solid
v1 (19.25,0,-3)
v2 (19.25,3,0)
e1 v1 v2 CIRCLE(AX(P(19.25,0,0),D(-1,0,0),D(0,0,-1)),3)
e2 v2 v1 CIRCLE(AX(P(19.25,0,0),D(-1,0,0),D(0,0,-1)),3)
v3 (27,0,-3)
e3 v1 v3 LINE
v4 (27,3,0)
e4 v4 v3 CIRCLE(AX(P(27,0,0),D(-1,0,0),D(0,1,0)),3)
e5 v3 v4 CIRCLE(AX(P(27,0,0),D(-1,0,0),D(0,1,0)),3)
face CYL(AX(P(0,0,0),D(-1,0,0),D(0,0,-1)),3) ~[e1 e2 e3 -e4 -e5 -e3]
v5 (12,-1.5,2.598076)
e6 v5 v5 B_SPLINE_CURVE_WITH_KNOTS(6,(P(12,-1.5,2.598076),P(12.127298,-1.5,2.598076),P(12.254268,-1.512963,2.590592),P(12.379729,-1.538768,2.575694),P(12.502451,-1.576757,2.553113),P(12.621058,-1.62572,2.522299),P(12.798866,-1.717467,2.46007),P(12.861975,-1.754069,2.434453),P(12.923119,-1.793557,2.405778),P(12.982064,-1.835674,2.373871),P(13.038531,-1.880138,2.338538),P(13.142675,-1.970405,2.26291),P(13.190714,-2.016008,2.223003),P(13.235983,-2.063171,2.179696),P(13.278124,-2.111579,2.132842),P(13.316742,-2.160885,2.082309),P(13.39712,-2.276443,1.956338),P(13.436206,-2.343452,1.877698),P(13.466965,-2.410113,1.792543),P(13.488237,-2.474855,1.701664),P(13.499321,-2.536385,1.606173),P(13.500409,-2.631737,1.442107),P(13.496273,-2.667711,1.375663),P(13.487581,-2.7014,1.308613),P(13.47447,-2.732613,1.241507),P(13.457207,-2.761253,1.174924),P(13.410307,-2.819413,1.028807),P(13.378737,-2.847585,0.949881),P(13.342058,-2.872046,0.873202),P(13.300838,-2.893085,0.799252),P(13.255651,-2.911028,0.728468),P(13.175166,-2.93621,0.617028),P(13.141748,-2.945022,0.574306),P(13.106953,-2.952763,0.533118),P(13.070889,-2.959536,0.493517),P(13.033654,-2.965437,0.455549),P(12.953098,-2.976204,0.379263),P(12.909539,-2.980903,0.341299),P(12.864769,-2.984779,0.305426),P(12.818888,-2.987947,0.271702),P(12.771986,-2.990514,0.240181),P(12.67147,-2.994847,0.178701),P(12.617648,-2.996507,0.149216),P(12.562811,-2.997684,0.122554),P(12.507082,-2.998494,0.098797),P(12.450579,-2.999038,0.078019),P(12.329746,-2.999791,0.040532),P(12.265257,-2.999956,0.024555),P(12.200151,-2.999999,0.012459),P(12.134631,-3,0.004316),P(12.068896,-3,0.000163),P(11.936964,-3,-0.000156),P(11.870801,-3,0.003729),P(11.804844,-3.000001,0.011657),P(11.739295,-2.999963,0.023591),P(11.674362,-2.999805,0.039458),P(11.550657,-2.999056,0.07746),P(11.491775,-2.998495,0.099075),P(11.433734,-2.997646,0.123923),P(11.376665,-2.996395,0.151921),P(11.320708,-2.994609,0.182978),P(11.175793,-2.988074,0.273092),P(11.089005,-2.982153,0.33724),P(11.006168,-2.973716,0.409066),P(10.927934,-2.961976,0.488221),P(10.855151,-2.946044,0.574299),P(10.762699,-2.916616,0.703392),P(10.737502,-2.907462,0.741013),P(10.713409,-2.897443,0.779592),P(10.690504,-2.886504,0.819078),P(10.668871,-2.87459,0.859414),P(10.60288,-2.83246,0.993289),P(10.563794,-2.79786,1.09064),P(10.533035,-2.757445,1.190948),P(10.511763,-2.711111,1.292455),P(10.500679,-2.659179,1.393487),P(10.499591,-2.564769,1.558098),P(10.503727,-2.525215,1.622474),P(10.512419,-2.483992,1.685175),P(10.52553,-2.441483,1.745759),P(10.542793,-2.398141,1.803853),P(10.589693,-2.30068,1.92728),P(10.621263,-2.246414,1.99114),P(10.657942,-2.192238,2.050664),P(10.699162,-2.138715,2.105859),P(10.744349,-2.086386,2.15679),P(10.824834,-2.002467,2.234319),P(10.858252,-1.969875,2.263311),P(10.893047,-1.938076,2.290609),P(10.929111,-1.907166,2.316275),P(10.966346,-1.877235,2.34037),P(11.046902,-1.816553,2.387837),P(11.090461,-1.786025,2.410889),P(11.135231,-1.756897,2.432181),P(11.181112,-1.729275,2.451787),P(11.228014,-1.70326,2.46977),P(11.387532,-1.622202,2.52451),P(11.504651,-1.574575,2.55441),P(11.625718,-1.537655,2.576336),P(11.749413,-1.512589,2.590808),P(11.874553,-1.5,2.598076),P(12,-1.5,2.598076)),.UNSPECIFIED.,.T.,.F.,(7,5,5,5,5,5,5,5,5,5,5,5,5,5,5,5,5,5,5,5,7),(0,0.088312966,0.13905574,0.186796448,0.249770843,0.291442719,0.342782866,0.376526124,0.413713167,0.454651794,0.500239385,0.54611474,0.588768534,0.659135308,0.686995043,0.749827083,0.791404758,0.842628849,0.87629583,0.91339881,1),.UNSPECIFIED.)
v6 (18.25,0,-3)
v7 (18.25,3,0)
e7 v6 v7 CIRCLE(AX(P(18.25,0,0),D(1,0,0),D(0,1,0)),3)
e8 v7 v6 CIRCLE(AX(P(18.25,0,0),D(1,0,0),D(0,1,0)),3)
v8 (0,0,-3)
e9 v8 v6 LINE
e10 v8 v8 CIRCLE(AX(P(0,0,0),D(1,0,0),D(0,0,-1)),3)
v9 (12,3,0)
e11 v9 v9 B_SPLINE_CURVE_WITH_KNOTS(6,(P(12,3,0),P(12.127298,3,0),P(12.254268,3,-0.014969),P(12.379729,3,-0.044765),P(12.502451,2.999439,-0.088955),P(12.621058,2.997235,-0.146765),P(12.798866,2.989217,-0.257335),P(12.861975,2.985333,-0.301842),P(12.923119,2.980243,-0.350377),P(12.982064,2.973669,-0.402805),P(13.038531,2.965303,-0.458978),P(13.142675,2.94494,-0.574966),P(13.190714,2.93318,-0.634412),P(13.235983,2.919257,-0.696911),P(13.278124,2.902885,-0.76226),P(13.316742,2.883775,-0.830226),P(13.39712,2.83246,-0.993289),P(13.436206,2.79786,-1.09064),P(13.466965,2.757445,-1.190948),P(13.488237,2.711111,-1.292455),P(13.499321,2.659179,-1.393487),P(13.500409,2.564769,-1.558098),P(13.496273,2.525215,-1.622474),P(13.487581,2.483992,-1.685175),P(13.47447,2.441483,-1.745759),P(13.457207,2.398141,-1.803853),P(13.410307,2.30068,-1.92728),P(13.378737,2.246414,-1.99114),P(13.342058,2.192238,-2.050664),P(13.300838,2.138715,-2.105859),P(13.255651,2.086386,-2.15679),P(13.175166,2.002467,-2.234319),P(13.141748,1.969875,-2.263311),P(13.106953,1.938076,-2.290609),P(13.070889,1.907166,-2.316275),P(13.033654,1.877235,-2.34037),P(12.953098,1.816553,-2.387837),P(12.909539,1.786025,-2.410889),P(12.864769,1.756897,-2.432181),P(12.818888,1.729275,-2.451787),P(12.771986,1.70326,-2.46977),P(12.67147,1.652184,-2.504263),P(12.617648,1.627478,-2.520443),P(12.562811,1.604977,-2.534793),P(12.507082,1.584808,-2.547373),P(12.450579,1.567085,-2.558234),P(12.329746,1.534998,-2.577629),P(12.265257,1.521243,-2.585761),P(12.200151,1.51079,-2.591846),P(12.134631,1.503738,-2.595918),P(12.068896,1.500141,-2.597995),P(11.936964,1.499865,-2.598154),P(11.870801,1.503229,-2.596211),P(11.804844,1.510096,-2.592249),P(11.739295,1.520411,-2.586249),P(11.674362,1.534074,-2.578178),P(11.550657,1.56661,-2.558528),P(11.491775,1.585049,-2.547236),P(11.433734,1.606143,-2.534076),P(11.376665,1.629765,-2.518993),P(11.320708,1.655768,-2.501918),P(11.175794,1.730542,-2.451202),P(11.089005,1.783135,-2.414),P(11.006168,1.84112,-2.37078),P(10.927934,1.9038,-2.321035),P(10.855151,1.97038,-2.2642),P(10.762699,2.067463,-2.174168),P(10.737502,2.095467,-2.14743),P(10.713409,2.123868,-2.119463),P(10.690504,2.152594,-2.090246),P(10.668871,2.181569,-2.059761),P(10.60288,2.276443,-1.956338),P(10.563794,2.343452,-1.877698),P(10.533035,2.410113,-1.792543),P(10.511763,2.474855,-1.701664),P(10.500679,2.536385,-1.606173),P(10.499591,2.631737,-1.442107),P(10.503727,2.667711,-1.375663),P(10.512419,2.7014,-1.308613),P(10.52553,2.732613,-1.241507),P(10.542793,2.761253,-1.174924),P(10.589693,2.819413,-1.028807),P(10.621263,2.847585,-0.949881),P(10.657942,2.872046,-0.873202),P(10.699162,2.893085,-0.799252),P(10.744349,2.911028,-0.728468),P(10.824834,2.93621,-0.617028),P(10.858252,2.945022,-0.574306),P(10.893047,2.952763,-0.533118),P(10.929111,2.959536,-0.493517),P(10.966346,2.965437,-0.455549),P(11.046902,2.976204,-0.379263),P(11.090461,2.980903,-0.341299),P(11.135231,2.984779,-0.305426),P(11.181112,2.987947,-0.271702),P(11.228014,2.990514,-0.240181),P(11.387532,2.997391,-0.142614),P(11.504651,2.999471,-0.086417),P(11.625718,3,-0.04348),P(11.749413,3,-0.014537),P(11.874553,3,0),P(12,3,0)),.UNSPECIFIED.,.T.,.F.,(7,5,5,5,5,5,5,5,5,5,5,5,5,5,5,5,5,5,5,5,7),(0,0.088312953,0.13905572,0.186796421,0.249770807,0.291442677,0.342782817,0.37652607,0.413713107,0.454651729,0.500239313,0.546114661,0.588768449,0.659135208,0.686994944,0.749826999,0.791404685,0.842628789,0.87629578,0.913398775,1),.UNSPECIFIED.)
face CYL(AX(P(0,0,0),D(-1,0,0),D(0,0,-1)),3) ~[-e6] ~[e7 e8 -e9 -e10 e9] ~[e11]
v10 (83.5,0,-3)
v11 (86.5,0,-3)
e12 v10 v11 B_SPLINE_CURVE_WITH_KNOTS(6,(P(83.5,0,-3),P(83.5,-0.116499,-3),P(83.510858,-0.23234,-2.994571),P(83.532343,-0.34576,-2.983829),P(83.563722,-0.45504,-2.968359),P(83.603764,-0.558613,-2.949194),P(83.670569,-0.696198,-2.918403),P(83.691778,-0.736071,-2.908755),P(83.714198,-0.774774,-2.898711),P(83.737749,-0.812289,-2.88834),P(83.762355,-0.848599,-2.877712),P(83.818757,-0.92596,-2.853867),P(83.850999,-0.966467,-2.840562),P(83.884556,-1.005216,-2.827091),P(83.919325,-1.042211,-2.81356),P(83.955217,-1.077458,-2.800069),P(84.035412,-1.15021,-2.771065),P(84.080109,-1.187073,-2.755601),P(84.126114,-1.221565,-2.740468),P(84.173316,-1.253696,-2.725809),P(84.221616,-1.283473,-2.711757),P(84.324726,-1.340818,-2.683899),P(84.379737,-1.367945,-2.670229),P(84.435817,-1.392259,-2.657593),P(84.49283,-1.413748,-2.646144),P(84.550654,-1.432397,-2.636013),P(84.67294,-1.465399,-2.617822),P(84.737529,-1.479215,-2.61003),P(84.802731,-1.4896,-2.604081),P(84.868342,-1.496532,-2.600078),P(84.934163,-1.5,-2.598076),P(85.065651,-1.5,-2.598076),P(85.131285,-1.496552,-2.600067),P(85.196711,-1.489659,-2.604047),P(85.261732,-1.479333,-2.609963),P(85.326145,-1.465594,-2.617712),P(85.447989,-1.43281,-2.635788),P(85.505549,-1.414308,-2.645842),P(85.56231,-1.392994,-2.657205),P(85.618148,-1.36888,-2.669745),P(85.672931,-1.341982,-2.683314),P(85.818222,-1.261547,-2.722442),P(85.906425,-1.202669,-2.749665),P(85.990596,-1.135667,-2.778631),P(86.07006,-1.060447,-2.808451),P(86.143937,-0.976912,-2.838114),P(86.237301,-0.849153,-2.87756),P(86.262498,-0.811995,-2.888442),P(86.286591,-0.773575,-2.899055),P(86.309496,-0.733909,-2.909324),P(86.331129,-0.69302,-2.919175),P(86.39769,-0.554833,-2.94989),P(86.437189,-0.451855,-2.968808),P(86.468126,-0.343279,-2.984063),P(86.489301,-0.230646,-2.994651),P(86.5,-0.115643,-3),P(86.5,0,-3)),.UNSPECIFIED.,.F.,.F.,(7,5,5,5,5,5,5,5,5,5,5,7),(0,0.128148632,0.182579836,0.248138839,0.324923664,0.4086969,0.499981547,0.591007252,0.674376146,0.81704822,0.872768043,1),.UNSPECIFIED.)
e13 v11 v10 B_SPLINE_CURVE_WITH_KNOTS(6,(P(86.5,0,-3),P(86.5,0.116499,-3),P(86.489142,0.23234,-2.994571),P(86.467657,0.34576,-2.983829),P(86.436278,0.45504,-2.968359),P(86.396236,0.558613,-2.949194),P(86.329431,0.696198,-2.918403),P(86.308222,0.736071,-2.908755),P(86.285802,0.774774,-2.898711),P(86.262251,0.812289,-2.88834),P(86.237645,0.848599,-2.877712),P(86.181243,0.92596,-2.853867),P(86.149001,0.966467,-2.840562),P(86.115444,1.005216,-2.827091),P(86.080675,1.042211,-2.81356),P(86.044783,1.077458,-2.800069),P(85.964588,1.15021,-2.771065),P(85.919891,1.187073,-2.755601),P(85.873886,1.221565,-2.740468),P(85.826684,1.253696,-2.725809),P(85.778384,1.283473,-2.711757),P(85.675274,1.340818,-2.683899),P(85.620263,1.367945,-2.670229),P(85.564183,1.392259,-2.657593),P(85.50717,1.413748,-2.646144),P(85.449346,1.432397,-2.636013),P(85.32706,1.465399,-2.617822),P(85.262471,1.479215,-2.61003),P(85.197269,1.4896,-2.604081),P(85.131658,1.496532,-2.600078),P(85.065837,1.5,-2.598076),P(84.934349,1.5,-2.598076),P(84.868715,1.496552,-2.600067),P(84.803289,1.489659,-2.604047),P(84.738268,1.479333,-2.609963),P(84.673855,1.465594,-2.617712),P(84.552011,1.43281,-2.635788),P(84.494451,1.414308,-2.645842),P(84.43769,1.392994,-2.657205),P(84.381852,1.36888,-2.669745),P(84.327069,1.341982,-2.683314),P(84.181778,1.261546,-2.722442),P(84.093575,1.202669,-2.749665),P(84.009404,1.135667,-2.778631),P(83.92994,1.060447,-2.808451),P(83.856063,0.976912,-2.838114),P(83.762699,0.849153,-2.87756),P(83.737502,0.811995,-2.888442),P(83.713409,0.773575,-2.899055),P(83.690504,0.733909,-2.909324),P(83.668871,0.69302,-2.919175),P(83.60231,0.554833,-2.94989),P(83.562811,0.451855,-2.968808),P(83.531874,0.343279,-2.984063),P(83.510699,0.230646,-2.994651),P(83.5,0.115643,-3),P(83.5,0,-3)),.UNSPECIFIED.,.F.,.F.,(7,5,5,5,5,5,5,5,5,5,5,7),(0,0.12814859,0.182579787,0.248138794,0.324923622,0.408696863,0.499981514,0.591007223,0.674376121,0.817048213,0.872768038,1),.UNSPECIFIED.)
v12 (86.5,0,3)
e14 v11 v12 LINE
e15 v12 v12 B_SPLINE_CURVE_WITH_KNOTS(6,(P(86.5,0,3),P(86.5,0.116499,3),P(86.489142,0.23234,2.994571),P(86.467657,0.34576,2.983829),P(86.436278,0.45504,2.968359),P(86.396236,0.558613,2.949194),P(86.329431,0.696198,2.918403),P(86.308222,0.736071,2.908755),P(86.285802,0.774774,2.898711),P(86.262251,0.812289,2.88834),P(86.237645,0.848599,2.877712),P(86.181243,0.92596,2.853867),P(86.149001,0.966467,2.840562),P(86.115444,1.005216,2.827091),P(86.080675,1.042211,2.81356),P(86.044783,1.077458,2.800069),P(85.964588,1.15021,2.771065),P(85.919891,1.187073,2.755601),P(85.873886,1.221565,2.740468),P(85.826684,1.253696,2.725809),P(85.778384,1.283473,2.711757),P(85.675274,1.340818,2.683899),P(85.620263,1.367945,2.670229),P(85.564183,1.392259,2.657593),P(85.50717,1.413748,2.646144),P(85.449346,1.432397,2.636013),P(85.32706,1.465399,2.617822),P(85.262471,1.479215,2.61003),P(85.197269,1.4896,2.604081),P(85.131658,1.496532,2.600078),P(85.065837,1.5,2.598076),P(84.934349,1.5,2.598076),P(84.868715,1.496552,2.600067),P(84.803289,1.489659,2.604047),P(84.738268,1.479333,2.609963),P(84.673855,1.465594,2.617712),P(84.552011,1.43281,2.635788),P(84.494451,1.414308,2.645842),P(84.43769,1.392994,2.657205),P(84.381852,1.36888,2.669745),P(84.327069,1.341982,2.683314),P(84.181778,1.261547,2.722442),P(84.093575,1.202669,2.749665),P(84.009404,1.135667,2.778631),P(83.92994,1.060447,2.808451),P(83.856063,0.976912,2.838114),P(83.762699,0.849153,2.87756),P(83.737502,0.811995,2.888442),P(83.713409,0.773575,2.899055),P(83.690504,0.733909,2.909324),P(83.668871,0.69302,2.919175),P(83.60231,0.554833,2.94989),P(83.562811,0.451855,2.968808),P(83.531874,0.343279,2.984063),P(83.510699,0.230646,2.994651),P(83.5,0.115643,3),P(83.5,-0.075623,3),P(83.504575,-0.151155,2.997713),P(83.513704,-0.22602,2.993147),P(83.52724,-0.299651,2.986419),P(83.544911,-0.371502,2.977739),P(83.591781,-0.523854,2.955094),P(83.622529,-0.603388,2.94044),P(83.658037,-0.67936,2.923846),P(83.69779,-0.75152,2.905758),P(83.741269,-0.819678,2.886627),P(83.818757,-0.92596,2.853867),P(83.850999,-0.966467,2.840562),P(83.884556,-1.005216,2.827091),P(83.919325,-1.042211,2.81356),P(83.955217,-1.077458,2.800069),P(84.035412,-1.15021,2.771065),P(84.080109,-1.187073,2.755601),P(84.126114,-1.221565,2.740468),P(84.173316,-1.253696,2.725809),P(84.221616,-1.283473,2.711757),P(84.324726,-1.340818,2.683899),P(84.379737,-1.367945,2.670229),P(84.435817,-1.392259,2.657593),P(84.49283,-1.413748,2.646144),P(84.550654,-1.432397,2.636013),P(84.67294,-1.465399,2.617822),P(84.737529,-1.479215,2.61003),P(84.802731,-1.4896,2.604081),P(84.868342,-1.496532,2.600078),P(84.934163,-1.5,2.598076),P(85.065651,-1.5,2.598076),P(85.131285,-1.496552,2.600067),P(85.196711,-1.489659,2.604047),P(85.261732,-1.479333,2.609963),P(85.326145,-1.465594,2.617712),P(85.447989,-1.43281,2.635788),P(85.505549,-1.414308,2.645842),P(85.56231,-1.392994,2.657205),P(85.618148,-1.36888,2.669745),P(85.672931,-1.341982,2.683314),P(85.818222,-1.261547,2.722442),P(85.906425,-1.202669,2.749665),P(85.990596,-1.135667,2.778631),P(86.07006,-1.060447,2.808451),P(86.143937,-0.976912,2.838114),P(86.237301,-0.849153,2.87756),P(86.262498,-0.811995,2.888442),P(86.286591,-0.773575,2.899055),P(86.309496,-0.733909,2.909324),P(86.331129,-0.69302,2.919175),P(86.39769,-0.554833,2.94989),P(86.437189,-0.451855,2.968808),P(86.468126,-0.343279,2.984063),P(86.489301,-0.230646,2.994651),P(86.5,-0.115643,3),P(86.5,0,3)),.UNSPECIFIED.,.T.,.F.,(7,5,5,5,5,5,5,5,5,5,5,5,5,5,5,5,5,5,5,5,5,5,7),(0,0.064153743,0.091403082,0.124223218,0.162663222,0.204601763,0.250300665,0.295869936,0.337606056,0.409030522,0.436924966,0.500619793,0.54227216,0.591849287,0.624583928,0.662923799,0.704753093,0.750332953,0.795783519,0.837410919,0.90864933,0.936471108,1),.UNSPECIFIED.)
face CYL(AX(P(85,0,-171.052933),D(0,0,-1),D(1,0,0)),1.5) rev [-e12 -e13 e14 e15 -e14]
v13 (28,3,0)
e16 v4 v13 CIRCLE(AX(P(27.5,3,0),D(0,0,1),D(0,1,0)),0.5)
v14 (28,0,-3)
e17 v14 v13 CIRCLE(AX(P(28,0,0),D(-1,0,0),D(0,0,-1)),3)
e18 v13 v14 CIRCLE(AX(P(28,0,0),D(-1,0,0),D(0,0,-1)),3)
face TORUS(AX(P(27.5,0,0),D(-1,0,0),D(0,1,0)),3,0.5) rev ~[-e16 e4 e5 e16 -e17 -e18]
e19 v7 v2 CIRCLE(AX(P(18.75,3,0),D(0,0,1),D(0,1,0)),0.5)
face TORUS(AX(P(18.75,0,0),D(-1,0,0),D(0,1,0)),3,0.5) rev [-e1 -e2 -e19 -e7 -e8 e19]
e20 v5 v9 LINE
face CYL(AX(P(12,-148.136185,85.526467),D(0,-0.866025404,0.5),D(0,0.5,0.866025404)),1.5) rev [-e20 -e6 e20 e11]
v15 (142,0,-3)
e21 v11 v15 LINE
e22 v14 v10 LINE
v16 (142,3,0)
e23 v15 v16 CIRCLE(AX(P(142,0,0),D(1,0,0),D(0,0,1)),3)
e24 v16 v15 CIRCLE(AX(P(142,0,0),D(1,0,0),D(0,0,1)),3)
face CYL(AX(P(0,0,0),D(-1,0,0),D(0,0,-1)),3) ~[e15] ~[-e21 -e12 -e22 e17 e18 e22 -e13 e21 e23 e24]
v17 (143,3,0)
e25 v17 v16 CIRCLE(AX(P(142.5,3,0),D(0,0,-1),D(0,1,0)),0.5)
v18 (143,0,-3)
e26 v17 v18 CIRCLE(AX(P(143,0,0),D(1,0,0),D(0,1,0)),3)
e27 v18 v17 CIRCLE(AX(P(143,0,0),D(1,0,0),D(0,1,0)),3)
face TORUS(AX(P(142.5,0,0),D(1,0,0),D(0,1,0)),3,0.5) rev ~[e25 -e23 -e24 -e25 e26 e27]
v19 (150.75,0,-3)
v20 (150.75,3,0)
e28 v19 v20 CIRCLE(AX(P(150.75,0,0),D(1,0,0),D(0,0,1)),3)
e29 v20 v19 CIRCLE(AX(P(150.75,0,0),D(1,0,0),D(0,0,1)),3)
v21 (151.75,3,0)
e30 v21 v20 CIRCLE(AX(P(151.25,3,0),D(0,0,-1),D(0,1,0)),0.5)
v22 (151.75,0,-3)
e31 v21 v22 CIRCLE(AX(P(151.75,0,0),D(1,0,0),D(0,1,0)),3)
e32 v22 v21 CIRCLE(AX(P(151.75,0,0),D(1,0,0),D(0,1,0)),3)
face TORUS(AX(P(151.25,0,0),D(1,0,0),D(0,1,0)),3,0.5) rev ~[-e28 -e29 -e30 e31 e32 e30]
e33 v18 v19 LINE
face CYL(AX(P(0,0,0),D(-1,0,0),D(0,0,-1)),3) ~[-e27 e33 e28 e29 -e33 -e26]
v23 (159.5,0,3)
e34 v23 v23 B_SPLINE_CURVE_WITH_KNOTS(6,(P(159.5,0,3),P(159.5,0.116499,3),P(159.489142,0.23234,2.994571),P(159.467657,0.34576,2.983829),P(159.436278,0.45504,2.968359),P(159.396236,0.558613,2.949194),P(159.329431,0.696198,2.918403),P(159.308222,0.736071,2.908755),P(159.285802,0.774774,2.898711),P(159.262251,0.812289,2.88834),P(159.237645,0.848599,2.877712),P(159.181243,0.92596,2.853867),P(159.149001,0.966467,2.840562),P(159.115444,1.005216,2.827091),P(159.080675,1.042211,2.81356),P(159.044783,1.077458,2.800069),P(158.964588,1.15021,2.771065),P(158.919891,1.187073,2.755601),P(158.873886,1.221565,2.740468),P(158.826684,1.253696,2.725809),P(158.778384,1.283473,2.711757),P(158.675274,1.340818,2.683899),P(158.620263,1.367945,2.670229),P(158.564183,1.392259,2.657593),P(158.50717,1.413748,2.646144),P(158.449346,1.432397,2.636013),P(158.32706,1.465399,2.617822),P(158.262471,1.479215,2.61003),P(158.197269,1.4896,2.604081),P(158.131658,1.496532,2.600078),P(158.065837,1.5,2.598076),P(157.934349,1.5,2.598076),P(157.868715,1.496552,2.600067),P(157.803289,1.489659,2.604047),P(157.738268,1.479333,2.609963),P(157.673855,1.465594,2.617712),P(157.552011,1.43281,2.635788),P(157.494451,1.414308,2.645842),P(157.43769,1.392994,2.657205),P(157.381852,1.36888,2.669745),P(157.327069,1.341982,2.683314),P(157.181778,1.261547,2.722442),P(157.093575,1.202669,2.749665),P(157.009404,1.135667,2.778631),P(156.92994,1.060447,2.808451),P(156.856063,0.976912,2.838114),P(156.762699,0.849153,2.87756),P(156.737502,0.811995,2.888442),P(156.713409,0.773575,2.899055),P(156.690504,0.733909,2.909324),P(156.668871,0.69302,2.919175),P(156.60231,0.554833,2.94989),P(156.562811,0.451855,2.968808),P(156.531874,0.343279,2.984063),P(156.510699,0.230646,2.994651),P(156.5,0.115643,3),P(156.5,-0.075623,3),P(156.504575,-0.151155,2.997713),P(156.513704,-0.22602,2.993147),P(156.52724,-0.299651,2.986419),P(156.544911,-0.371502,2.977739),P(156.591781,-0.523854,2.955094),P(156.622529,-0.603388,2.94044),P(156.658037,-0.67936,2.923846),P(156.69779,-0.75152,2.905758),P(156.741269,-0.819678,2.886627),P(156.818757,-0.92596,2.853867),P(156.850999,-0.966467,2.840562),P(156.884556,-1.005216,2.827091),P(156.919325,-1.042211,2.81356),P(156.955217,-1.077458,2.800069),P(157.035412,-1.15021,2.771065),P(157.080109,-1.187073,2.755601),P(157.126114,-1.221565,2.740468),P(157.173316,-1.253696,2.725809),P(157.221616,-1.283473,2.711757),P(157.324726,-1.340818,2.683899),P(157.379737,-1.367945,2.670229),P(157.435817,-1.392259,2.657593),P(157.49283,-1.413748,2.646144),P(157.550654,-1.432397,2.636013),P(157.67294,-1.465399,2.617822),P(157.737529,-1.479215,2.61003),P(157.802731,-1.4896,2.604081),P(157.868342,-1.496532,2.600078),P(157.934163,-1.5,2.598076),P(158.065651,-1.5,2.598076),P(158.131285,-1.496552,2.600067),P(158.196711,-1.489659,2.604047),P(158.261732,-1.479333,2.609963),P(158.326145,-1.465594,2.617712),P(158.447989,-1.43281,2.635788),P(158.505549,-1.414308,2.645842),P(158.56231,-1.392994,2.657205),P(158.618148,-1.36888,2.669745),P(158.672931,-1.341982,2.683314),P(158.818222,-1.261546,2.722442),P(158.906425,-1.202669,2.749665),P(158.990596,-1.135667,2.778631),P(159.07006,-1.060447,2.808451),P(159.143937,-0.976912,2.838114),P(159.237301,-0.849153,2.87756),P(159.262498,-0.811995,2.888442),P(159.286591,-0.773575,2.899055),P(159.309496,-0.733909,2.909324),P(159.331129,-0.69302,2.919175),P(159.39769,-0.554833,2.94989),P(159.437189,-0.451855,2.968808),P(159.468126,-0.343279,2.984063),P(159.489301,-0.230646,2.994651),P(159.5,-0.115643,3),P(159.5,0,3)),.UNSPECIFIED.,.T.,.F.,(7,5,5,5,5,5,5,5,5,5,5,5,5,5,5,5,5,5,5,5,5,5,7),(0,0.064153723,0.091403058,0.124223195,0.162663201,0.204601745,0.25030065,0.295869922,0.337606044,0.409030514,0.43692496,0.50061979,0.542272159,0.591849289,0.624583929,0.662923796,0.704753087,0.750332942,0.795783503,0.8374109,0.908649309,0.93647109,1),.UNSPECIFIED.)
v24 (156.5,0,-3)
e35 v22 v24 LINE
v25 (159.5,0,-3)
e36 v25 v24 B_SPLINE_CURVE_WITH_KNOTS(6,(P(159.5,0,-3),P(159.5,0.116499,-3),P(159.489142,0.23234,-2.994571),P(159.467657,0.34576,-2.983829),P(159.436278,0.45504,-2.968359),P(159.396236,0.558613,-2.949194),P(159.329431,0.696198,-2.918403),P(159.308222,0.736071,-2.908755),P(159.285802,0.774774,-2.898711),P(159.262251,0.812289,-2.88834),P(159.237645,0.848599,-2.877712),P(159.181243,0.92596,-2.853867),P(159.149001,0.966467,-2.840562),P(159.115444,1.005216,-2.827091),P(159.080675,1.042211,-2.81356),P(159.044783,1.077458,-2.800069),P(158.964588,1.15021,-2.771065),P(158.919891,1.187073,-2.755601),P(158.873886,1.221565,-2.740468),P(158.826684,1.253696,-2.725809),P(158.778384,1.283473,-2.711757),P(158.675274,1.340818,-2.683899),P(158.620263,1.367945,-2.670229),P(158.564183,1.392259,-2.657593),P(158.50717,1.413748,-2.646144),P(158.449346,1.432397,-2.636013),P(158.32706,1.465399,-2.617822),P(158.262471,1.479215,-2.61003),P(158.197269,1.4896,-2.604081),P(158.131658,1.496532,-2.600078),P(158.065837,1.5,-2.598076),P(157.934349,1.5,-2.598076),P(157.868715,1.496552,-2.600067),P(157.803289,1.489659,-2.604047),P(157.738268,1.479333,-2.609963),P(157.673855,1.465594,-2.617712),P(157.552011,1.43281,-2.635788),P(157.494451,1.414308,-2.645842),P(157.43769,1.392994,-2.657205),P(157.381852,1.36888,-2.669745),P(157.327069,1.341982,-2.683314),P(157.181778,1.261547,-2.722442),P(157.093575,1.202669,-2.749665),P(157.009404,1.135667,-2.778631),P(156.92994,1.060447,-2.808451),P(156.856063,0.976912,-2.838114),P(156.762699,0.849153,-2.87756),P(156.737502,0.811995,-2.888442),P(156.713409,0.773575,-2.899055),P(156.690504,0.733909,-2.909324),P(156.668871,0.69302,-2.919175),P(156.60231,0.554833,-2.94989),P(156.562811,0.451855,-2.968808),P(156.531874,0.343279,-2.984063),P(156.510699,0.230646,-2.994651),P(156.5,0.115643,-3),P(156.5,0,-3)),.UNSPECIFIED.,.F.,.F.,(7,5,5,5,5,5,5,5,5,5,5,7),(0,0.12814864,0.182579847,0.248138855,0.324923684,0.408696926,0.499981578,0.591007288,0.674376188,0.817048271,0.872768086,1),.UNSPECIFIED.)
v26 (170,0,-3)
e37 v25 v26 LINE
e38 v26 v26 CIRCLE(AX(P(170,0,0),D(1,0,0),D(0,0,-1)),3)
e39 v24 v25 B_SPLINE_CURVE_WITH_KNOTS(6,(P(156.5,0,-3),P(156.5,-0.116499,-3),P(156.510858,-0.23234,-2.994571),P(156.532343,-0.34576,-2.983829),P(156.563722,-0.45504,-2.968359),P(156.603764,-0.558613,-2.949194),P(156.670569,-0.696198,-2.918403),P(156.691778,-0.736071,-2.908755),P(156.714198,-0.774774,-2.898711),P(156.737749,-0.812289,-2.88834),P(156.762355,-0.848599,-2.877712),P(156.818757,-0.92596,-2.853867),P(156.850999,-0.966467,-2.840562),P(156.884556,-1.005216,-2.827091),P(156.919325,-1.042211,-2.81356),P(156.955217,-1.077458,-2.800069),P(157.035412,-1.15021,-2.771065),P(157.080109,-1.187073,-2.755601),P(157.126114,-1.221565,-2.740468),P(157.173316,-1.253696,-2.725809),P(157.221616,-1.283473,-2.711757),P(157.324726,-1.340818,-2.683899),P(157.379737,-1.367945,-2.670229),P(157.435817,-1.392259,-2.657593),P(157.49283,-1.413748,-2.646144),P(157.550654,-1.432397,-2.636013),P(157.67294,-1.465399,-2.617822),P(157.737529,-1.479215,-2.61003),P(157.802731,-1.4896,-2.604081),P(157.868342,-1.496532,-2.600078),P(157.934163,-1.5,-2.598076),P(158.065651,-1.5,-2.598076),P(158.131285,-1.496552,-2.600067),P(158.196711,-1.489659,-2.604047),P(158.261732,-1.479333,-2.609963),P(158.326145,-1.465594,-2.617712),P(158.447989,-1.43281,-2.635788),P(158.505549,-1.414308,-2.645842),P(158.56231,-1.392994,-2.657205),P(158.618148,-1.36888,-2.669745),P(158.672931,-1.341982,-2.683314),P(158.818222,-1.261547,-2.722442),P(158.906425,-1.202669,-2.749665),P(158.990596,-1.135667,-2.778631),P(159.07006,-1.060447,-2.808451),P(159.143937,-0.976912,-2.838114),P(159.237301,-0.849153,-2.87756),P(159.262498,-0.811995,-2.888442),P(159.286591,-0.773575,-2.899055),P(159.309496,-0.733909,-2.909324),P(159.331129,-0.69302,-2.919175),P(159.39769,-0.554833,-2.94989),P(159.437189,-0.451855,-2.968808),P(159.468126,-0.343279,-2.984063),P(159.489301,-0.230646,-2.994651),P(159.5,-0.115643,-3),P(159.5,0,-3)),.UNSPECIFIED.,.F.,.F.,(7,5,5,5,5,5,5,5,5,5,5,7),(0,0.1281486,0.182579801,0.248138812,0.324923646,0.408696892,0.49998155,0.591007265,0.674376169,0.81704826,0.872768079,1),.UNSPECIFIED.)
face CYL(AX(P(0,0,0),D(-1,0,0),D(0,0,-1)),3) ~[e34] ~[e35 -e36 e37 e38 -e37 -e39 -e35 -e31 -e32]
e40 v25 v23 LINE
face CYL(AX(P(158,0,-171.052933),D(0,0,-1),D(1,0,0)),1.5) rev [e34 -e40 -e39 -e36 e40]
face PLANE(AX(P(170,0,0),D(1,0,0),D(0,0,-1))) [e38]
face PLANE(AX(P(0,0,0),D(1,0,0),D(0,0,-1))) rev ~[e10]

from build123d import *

# Parameters (mm, degrees)
SKETCH1_R               = 3
BOSS_EXTRUDE1_DEPTH     = 170
CUT_EXTRUDE1_DEPTH      = 171.052932936
CUT_EXTRUDE1_DEPTH_BACK = 171.052932936
SKETCH2_R               = 1.5
CUT_EXTRUDE2_DEPTH      = 171.052933039
CUT_EXTRUDE2_DEPTH_BACK = 171.052933039
SKETCH3_R               = 1.5
CUT_SWEEP1_PROFILE_R    = 0.5
LPATTERN1_COUNT         = 2
LPATTERN1_PITCH         = 8.75
MIRROR1_COPY_1_SKETCH_R = 0.5


with BuildPart() as part:
    # Sketch1 → Boss-Extrude1 (new body)
    with BuildSketch(Plane.YZ):
        with Locations(Location((0, 0, 0), (0, 0, 270))):
            Circle(SKETCH1_R)
    extrude(amount=BOSS_EXTRUDE1_DEPTH)

    # Sketch2 → Cut-Extrude1 (cut, two sides: drawn at the far end of the back side and taken through both)
    with BuildSketch(Plane(origin=(0, 0, 0), x_dir=(0, 1, 0), z_dir=(0, 0, 1)).offset(-CUT_EXTRUDE1_DEPTH_BACK)):
        with Locations(Location((0, -158, 0), (0, 0, 270))):
            Circle(SKETCH2_R)
        with Locations(Location((0, -85, 0), (0, 0, 270))):
            Circle(SKETCH2_R)
    extrude(amount=CUT_EXTRUDE1_DEPTH + CUT_EXTRUDE1_DEPTH_BACK, mode=Mode.SUBTRACT)

    # Sketch3 → Cut-Extrude2 (cut, two sides: drawn at the far end of the back side and taken through both)
    with BuildSketch(Plane(origin=(0, 0, 0), x_dir=(-1, 0, 0), z_dir=(0, 0.8660254037844364, -0.5000000000000041)).offset(-CUT_EXTRUDE2_DEPTH_BACK)):
        with Locations(Location((-12, 0, 0), (0, 0, 90))):
            Circle(SKETCH3_R)
    extrude(amount=CUT_EXTRUDE2_DEPTH + CUT_EXTRUDE2_DEPTH_BACK, mode=Mode.SUBTRACT)

    # Cut-Sweep1: sweep along a path in Sketch4
    with BuildLine(Plane.YZ.offset(151.25)) as cut_sweep1_path:
        CenterArc((0, 0), 3, 0, 360)
    # Cut-Sweep1 profile (on start of the path) → Cut-Sweep1 (sweep, cut)
    with BuildSketch(Plane(origin=(151.25, 3, 0), x_dir=(1, 0, 0), z_dir=(0, 0, 1))):
        Circle(CUT_SWEEP1_PROFILE_R)
    cut_sweep1 = sweep(path=cut_sweep1_path.line, mode=Mode.SUBTRACT)

    # LPattern1: Cut-Sweep1 ×2
    with Locations(*[(-i * LPATTERN1_PITCH, 0, 0) for i in range(1, LPATTERN1_COUNT)]):
        add(cut_sweep1, mode=Mode.SUBTRACT)

    # Mirror1: Cut-Sweep1 across plane
    add(cut_sweep1.mirror(Plane(origin=(85, 0, 0), x_dir=(0, 0, 1), z_dir=(1, 0, 0))), mode=Mode.SUBTRACT)

    # Mirror1 copy 1: sweep along a path in Mirror1 copy 1 path
    with BuildLine(Plane(origin=(27.5, 0, 0), x_dir=(0, 1, 0), z_dir=(-1, 0, 0))) as mirror1_copy_1_path:
        CenterArc((0, 0), 3, 0, 360)
    # Mirror1 copy 1 sketch → Mirror1 copy 1 (sweep, cut)
    with BuildSketch(Plane(origin=(27.5, 3, 0), x_dir=(-1, 0, 0), z_dir=(0, 0, 1))):
        Circle(MIRROR1_COPY_1_SKETCH_R)
    sweep(path=mirror1_copy_1_path.line, mode=Mode.SUBTRACT)


solid = part.part
